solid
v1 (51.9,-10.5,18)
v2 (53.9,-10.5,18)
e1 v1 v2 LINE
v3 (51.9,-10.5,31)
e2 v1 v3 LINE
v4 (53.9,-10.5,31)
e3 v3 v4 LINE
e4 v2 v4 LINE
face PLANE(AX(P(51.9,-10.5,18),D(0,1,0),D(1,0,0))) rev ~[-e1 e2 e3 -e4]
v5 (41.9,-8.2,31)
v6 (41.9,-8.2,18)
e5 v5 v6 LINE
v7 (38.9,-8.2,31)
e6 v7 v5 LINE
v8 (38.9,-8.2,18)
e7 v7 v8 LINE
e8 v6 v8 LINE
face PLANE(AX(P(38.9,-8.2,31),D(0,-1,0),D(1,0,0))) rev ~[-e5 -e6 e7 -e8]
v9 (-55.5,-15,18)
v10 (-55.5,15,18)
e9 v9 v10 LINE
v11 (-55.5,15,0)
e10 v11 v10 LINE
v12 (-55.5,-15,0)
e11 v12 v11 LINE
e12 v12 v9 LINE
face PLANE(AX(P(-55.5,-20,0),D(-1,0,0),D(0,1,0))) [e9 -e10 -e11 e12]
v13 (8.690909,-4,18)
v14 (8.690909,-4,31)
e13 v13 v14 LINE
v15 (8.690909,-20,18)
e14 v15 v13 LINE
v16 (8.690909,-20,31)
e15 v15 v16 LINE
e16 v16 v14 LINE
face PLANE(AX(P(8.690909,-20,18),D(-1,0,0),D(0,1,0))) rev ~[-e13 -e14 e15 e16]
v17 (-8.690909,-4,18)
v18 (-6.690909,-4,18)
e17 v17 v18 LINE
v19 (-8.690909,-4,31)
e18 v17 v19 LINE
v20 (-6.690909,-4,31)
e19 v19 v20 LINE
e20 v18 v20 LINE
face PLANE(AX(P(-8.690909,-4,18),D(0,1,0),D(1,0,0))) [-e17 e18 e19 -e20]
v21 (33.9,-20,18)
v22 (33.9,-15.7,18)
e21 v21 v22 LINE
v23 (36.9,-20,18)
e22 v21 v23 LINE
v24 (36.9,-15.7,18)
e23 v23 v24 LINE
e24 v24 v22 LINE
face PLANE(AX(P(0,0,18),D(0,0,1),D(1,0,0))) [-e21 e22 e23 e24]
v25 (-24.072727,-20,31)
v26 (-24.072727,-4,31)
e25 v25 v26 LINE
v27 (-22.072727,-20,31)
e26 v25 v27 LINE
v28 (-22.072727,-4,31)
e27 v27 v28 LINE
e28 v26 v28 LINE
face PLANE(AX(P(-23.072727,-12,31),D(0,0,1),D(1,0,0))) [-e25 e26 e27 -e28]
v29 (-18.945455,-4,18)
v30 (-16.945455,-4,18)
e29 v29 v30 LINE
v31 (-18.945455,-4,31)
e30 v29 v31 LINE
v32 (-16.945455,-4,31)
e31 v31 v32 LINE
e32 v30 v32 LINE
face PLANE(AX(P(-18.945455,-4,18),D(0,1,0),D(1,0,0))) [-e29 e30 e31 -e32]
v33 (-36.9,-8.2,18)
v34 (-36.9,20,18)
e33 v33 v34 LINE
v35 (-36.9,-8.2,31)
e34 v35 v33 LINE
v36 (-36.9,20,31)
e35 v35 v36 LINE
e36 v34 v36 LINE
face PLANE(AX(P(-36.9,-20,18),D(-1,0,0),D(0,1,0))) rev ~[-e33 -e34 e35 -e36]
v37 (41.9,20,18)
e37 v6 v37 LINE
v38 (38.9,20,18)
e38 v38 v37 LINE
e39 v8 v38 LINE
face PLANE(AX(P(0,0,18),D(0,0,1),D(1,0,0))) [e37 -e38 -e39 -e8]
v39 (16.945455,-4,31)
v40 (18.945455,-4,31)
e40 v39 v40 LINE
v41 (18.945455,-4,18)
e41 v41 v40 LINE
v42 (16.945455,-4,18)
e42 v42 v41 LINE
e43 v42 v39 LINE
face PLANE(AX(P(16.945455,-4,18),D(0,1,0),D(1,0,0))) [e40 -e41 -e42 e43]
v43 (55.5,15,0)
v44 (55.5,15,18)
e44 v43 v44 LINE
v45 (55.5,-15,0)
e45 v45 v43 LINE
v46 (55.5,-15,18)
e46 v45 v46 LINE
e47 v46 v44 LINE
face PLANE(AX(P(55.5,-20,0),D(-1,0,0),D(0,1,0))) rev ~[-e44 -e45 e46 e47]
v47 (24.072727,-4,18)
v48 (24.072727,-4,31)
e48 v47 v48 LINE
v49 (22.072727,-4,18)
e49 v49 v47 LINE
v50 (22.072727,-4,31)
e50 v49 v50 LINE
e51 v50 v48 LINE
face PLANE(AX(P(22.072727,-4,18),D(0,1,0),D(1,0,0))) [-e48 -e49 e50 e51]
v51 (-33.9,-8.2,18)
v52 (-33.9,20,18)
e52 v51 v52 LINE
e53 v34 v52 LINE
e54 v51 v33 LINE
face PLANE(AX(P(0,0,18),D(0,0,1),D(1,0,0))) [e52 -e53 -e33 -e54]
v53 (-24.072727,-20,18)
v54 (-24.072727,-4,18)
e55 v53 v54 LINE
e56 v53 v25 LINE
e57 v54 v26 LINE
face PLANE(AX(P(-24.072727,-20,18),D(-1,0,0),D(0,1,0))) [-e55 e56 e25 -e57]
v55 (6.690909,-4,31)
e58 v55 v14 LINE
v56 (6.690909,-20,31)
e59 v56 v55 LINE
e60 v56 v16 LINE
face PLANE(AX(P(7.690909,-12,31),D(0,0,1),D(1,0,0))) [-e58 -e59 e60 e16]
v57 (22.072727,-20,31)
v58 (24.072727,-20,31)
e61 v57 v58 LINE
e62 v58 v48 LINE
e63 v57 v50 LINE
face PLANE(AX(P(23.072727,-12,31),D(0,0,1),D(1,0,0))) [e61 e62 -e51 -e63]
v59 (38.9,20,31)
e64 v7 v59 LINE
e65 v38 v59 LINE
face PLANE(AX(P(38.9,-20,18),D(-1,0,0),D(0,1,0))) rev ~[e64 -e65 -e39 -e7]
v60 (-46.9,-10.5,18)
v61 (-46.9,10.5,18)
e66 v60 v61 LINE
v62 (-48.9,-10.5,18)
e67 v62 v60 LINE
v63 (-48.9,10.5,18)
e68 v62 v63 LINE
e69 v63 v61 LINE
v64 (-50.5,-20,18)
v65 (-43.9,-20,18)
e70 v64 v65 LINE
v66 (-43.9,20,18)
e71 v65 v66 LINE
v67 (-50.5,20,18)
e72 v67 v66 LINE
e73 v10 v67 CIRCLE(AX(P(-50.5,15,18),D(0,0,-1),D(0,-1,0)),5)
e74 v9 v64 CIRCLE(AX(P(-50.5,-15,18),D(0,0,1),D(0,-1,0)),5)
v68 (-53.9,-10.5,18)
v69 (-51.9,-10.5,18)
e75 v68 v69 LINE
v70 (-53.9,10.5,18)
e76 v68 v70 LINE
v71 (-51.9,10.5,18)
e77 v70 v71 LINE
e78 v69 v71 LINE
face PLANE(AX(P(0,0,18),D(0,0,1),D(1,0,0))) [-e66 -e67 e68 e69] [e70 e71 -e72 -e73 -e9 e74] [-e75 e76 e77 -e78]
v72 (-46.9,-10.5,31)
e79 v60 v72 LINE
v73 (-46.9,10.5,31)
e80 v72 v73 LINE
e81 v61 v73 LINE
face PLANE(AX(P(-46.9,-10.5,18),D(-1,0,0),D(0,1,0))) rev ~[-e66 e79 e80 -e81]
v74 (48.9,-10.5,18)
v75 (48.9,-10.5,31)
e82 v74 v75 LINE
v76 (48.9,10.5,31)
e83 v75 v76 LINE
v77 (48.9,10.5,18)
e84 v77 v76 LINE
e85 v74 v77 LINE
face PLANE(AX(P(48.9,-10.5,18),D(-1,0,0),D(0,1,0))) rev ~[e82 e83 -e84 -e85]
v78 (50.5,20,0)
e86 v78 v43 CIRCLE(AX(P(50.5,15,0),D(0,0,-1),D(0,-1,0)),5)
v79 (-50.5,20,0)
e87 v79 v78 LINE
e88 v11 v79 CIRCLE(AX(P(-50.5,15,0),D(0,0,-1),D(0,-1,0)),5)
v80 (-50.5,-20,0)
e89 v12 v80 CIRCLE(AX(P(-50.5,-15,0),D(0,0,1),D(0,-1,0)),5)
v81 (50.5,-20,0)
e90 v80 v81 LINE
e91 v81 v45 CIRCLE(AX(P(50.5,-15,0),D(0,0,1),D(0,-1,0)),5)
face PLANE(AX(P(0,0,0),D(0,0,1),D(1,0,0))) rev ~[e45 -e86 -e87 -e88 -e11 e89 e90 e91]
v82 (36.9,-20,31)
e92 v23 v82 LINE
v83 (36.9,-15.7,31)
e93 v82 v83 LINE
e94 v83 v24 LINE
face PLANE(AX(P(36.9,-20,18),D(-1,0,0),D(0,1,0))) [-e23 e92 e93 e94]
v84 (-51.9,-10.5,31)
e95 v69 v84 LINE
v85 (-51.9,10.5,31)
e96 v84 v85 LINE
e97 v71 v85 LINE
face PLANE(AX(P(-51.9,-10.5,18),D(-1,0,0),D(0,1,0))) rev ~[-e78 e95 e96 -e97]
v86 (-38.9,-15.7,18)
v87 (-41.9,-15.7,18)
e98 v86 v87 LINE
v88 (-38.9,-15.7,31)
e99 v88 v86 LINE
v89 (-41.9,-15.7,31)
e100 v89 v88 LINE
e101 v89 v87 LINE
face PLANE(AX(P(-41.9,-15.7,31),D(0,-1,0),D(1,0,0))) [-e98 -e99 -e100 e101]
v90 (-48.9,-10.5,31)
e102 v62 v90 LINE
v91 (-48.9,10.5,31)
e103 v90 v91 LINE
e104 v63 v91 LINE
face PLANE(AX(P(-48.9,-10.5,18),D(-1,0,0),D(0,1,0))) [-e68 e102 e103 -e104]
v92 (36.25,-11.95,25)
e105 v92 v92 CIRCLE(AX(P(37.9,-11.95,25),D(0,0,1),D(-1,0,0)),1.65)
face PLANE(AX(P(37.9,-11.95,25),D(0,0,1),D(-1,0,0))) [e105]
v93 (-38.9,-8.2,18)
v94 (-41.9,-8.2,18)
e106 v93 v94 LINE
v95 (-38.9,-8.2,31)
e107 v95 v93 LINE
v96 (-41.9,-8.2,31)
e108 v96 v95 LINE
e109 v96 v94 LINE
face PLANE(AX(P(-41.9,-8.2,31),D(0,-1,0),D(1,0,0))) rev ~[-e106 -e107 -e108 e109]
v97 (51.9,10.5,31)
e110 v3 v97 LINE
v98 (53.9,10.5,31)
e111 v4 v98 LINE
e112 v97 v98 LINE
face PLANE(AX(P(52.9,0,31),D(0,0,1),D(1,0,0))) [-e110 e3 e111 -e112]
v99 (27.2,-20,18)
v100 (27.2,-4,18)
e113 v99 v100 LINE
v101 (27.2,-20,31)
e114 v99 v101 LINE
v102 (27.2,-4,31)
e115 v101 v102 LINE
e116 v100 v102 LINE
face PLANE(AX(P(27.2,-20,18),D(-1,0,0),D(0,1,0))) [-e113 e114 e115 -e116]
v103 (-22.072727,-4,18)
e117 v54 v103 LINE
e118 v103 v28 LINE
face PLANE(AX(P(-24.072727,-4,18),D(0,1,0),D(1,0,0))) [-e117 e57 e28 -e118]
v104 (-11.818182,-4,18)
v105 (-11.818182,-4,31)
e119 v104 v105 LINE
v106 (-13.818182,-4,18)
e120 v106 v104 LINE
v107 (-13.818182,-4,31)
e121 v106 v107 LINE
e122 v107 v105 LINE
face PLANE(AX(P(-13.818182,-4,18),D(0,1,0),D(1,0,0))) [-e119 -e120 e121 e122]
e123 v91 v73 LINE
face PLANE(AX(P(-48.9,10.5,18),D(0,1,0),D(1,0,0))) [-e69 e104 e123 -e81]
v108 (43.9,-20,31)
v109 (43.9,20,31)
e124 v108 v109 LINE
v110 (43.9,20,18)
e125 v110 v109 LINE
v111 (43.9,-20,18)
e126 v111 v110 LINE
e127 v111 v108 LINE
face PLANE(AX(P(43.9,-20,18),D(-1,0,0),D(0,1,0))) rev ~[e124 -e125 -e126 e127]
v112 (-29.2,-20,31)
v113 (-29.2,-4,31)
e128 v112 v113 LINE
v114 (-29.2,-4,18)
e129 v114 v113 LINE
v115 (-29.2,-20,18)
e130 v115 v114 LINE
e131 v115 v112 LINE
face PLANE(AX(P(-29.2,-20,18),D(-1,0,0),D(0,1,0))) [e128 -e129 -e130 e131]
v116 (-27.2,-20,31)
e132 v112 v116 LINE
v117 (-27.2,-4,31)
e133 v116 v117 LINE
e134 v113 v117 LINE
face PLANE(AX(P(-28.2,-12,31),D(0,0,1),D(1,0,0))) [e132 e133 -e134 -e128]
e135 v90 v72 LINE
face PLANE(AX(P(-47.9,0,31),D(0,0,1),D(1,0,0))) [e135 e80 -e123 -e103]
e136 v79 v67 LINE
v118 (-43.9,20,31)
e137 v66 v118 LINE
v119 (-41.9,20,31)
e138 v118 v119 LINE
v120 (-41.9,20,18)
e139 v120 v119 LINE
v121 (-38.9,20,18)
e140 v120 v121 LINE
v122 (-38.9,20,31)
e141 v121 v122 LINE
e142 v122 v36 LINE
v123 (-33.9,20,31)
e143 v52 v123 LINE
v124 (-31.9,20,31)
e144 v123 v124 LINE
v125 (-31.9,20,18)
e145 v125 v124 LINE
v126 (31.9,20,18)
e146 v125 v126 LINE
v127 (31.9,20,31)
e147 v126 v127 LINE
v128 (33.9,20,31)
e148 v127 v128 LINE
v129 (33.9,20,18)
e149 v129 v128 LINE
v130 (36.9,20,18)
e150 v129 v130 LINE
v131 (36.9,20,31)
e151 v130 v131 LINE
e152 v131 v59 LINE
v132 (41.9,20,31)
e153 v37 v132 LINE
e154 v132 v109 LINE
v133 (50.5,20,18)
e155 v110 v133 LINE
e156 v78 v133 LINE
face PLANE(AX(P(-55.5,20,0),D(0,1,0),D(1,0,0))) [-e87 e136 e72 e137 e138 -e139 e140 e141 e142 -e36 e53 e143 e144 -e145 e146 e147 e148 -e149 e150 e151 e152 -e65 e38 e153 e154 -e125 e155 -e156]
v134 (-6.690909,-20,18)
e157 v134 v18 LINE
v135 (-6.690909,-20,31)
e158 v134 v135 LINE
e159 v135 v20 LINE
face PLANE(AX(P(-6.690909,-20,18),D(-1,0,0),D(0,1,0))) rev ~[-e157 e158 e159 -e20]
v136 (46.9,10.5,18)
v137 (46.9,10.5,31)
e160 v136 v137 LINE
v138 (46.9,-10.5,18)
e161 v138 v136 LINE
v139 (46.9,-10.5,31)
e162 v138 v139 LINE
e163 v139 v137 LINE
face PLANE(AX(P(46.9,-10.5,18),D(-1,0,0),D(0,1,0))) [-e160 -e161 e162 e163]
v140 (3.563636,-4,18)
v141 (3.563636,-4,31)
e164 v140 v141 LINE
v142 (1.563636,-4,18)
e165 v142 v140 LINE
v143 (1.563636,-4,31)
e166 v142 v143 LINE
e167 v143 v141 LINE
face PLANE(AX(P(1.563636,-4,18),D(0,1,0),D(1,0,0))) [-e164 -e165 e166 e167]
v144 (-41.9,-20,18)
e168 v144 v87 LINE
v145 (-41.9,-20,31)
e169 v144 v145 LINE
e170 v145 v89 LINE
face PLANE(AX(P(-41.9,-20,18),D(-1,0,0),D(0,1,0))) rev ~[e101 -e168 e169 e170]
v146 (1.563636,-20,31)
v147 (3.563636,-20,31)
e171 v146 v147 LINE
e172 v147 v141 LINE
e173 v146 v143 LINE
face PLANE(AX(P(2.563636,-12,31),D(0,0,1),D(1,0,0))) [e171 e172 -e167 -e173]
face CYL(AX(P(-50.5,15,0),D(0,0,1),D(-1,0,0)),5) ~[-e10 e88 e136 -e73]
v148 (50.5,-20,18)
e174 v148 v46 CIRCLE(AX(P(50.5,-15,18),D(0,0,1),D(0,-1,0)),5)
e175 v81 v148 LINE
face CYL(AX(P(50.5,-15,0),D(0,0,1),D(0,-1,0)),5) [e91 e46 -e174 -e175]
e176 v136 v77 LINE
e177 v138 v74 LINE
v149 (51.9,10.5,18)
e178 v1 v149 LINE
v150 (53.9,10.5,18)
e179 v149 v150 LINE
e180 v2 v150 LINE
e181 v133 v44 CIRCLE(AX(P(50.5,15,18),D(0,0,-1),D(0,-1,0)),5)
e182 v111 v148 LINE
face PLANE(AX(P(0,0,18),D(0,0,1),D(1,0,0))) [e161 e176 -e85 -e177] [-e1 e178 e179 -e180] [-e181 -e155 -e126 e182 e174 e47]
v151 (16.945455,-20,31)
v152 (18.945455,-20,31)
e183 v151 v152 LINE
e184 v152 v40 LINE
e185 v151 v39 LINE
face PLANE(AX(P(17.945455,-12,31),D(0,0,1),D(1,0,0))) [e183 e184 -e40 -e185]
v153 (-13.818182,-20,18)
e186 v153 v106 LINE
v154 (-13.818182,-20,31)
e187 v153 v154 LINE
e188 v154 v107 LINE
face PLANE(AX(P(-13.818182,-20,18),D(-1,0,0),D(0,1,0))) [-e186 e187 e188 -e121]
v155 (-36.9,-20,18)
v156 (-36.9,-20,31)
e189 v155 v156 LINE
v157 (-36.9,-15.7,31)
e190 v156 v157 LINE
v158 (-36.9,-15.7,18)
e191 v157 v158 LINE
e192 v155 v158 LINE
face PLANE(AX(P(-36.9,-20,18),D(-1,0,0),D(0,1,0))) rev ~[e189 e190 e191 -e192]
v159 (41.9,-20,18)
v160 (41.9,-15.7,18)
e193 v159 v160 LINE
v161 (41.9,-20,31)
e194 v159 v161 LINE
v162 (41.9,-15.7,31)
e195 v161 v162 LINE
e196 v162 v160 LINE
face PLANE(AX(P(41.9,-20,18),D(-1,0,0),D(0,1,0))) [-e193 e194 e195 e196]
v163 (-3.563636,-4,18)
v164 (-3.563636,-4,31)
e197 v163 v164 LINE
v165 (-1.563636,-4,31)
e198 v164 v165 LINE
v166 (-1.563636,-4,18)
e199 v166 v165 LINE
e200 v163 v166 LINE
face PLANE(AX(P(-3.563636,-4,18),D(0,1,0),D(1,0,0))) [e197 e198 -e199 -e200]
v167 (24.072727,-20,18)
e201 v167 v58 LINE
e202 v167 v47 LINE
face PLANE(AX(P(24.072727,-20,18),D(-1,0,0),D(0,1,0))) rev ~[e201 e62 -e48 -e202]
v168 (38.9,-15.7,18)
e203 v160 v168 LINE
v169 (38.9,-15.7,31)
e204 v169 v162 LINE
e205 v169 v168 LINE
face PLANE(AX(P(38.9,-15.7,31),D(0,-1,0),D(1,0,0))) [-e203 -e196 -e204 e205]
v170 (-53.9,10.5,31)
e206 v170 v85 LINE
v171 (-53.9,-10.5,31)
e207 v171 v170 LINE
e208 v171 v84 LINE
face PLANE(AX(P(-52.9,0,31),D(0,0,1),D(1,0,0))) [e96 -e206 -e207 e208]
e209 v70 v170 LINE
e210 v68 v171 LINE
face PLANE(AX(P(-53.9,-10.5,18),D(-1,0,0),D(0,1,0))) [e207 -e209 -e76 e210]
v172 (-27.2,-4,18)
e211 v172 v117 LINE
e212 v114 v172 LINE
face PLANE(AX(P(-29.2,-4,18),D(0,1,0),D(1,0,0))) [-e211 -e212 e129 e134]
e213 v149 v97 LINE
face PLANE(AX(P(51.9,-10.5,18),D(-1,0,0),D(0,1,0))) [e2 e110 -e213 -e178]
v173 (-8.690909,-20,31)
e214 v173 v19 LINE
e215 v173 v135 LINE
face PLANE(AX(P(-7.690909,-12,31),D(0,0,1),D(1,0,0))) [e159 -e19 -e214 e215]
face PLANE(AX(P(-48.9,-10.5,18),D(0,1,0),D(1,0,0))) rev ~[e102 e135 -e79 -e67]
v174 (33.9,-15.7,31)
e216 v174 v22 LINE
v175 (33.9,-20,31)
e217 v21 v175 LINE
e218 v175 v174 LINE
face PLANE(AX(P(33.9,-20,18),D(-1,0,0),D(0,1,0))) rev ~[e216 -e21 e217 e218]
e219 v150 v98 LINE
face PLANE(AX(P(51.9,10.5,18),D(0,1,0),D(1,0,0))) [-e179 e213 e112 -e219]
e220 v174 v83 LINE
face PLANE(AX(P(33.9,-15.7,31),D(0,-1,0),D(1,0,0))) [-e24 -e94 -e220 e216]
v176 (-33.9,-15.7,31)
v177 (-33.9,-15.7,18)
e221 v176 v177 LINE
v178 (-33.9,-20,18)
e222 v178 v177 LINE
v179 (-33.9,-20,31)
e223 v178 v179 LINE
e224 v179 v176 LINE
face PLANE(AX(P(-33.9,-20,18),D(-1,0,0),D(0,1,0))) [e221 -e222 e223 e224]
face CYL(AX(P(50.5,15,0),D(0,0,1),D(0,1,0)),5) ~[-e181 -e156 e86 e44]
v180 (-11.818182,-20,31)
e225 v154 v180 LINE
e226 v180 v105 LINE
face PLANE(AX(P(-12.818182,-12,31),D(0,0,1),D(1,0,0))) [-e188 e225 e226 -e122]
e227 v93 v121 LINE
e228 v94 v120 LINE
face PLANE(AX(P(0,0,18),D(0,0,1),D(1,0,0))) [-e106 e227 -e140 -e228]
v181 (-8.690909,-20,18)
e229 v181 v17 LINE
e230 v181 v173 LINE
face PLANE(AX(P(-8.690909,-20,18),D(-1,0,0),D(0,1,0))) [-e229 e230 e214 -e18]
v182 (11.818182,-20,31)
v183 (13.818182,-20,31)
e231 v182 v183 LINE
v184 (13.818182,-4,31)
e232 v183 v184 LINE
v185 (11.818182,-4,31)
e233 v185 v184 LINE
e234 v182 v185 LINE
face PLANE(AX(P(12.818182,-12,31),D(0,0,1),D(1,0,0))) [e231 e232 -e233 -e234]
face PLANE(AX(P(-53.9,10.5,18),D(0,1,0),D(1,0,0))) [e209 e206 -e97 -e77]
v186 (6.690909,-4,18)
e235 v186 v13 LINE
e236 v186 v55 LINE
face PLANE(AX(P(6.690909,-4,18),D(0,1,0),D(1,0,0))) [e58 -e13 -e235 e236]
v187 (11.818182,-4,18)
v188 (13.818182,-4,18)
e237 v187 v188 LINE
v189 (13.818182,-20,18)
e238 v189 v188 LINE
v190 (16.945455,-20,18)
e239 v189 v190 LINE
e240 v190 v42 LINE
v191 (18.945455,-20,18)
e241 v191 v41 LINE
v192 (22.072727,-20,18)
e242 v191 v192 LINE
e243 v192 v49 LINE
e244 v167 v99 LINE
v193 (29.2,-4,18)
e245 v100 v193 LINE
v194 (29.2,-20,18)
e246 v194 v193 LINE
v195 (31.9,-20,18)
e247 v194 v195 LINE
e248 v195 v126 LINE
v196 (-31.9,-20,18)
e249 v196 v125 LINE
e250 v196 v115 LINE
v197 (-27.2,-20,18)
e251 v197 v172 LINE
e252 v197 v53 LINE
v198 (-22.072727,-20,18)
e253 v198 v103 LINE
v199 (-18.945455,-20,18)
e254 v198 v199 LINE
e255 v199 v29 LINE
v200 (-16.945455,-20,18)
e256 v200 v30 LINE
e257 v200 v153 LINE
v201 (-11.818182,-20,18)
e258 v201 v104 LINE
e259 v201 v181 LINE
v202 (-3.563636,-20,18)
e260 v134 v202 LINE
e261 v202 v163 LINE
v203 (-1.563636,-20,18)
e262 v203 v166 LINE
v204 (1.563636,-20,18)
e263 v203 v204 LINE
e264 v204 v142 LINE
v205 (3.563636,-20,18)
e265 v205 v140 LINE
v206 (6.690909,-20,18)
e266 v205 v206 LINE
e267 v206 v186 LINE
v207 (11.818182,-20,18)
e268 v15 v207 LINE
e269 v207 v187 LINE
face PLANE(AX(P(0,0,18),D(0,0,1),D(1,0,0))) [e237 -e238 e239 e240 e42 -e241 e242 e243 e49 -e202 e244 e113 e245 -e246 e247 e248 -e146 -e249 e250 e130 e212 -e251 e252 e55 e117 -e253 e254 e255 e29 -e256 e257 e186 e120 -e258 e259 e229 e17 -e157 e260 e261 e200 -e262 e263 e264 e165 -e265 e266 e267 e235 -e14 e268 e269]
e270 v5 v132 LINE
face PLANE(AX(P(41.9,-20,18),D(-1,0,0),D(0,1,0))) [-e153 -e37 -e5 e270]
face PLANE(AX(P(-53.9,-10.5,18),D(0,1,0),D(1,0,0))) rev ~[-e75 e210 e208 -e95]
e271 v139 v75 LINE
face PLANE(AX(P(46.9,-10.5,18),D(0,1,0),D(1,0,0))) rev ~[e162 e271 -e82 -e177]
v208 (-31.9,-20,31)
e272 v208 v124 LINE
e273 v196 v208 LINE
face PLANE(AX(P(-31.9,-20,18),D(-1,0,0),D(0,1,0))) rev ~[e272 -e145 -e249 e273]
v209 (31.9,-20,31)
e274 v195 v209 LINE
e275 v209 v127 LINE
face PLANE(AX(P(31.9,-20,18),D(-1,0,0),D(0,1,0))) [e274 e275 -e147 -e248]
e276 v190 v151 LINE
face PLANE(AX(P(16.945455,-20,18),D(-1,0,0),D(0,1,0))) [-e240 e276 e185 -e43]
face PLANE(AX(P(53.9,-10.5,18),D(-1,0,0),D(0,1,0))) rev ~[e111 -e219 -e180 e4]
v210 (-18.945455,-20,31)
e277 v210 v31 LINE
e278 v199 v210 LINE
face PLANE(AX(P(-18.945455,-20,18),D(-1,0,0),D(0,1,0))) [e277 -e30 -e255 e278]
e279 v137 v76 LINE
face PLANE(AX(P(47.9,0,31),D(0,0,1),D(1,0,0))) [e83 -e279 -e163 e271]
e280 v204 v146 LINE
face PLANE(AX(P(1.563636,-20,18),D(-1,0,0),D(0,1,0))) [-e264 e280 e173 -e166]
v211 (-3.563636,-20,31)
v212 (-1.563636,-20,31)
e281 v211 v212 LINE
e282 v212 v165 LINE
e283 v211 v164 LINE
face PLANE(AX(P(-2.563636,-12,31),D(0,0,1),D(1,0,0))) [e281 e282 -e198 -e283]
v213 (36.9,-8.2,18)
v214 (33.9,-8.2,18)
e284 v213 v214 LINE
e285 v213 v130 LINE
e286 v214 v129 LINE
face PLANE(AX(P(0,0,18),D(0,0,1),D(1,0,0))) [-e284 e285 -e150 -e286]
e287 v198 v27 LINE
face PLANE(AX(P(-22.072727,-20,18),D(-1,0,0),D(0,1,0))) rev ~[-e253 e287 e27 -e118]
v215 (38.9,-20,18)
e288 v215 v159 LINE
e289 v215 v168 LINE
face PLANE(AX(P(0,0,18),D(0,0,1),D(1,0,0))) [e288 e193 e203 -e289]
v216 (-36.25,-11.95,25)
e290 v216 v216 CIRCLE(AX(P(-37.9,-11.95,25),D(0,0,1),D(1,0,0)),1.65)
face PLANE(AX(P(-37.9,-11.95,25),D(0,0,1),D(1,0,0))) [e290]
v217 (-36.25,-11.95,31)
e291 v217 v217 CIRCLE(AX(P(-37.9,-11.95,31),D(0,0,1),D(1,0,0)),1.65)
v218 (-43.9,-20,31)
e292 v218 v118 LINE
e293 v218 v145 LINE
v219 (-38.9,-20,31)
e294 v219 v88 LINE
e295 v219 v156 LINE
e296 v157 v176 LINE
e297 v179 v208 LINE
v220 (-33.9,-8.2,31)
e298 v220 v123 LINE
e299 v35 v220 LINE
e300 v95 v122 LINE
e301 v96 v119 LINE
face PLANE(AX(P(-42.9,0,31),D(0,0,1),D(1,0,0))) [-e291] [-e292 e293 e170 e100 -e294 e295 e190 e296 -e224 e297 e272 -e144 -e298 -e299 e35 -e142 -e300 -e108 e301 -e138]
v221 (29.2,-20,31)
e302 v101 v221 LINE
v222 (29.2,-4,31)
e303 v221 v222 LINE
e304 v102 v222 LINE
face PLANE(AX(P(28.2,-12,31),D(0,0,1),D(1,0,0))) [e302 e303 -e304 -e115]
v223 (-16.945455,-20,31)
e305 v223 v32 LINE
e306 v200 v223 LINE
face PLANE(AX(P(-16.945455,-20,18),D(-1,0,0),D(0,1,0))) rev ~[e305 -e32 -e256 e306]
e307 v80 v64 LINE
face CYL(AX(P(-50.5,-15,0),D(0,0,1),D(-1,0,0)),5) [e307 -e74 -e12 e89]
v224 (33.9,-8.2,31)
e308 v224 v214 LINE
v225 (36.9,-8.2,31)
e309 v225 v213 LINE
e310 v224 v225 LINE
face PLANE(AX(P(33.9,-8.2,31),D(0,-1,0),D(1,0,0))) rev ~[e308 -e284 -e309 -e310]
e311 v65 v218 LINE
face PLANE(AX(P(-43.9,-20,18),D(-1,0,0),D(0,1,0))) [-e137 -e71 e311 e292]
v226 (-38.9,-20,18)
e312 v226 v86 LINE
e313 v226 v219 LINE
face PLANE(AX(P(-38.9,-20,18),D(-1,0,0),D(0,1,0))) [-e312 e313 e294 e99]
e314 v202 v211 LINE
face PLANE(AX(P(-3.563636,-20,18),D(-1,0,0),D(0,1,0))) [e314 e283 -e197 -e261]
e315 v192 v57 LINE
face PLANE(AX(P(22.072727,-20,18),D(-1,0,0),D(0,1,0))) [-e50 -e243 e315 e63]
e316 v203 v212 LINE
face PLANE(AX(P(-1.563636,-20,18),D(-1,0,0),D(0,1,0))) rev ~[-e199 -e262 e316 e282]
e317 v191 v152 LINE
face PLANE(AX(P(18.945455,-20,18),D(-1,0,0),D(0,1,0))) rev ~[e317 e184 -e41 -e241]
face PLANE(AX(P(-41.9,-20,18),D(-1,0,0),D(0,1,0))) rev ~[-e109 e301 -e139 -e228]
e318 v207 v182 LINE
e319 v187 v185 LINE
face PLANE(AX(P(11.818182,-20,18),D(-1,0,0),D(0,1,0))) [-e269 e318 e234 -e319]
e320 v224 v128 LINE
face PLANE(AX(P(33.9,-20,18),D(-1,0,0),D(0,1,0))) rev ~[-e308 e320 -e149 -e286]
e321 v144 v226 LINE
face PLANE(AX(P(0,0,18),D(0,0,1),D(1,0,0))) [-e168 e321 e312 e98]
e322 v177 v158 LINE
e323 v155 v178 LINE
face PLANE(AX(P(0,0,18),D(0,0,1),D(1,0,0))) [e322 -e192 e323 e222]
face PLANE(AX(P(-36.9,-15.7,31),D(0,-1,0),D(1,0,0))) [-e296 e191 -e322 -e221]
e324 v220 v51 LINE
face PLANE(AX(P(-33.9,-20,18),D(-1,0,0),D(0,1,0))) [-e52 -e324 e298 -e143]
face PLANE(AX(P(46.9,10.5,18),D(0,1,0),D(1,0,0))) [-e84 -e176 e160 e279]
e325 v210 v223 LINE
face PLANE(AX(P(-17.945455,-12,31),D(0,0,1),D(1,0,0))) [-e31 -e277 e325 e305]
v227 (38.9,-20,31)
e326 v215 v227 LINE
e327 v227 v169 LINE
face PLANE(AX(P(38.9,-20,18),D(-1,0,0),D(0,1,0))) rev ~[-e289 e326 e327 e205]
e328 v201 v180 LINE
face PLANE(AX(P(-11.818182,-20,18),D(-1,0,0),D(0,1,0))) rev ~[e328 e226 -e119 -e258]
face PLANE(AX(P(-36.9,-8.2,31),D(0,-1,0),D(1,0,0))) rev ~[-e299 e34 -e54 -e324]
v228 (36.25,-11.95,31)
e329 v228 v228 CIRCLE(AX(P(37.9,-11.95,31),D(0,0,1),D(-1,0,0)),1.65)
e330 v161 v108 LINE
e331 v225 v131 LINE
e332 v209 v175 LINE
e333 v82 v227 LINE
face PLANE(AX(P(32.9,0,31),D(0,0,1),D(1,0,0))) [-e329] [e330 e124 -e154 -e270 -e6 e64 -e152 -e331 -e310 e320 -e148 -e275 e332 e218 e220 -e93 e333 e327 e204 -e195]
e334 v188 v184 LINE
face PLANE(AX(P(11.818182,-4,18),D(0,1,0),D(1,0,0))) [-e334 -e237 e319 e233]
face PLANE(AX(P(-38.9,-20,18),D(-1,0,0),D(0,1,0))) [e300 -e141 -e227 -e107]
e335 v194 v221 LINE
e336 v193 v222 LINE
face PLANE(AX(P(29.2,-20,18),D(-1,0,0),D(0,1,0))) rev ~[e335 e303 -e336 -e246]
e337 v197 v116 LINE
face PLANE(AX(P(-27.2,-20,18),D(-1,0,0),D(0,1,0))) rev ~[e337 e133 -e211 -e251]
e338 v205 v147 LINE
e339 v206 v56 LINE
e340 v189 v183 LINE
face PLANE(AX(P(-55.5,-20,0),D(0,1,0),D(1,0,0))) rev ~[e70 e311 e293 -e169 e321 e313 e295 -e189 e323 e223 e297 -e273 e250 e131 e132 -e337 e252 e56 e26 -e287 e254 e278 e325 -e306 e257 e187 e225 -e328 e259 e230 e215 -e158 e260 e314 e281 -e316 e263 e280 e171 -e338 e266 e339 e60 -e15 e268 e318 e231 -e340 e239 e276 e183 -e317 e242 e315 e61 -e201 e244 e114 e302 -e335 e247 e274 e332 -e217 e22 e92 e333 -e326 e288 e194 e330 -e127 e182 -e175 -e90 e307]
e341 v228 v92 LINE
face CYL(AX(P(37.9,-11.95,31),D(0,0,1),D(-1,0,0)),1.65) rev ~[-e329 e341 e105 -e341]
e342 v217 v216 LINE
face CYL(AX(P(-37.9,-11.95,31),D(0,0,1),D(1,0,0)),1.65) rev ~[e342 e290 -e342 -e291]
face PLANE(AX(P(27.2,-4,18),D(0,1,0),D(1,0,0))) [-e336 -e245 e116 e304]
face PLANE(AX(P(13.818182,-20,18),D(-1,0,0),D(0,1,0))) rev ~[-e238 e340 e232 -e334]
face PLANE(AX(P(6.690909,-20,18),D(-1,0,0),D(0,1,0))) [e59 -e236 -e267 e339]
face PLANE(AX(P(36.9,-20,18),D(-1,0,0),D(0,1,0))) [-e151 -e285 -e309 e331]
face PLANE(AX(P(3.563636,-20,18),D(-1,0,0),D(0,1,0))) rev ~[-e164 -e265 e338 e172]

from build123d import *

# Parameters (mm, degrees)
ESBO_O1_W                = 111
ESBO_O1_H                = 40
RESSALTO_EXTRUS_O1_DEPTH = 18
ESBO_O2_W                = 2
ESBO_O2_H                = 16
ESBO_O2_H_2              = 21
ESBO_O2_H_3              = 40
RESSALTO_EXTRUS_O2_DEPTH = 13
RESSALTO_EXTRUS_O3_REACH = 68.643
ESBO_O3_W                = 3
ESBO_O3_H                = 7.5
ESBO_O4_R                = 1.65
CORTE_EXTRUS_O1_DEPTH    = 6
FILETE1_R                = 5


with BuildPart() as part:
    # Esboço1 → Ressalto-extrusão1 (new body)
    with BuildSketch(Plane.XY):
        Rectangle(ESBO_O1_W, ESBO_O1_H)
    extrude(amount=RESSALTO_EXTRUS_O1_DEPTH)

    # Esboço2 → Ressalto-extrusão2 (add)
    with BuildSketch(Plane.XY.offset(18)):
        with Locations((-28.2, -12)):
            Rectangle(ESBO_O2_W, ESBO_O2_H)
        with Locations((-23.072727273, -12)):
            Rectangle(ESBO_O2_W, ESBO_O2_H)
        with Locations((-17.945454545, -12)):
            Rectangle(ESBO_O2_W, ESBO_O2_H)
        with Locations((-12.818181818, -12)):
            Rectangle(ESBO_O2_W, ESBO_O2_H)
        with Locations((-7.690909091, -12)):
            Rectangle(ESBO_O2_W, ESBO_O2_H)
        with Locations((-2.563636364, -12)):
            Rectangle(ESBO_O2_W, ESBO_O2_H)
        with Locations((2.563636364, -12)):
            Rectangle(ESBO_O2_W, ESBO_O2_H)
        with Locations((7.690909091, -12)):
            Rectangle(ESBO_O2_W, ESBO_O2_H)
        with Locations((12.818181818, -12)):
            Rectangle(ESBO_O2_W, ESBO_O2_H)
        with Locations((17.945454545, -12)):
            Rectangle(ESBO_O2_W, ESBO_O2_H)
        with Locations((23.072727273, -12)):
            Rectangle(ESBO_O2_W, ESBO_O2_H)
        with Locations((28.2, -12)):
            Rectangle(ESBO_O2_W, ESBO_O2_H)
        with Locations((-47.9, 0)):
            Rectangle(ESBO_O2_W, ESBO_O2_H_2)
        with Locations((-52.9, 0)):
            Rectangle(ESBO_O2_W, ESBO_O2_H_2)
        with Locations((-42.9, 0)):
            Rectangle(ESBO_O2_W, ESBO_O2_H_3)
        with Locations((-37.9, 0)):
            Rectangle(ESBO_O2_W, ESBO_O2_H_3)
        with Locations((-32.9, 0)):
            Rectangle(ESBO_O2_W, ESBO_O2_H_3)
        with Locations((32.9, 0)):
            Rectangle(ESBO_O2_W, ESBO_O2_H_3)
        with Locations((37.9, 0)):
            Rectangle(ESBO_O2_W, ESBO_O2_H_3)
        with Locations((42.9, 0)):
            Rectangle(ESBO_O2_W, ESBO_O2_H_3)
        with Locations((47.9, 0)):
            Rectangle(ESBO_O2_W, ESBO_O2_H_2)
        with Locations((52.9, 0)):
            Rectangle(ESBO_O2_W, ESBO_O2_H_2)
    extrude(amount=RESSALTO_EXTRUS_O2_DEPTH)

    # Esboço3 → Ressalto-extrusão3 (add, up to next)
    with BuildSketch(Plane.XY.offset(31), mode=Mode.PRIVATE) as ressalto_extrus_o3_sk1:
        with Locations((-40.4, -11.95)):
            Rectangle(ESBO_O3_W, ESBO_O3_H)
    ressalto_extrus_o3_tool1 = extrude(ressalto_extrus_o3_sk1.sketch, amount=-RESSALTO_EXTRUS_O3_REACH, mode=Mode.PRIVATE) - part.part
    # Esboço3 → Ressalto-extrusão3 (add, up to next)
    with BuildSketch(Plane.XY.offset(31), mode=Mode.PRIVATE) as ressalto_extrus_o3_sk2:
        with Locations((-35.4, -11.95)):
            Rectangle(ESBO_O3_W, ESBO_O3_H)
    ressalto_extrus_o3_tool2 = extrude(ressalto_extrus_o3_sk2.sketch, amount=-RESSALTO_EXTRUS_O3_REACH, mode=Mode.PRIVATE) - part.part
    # Esboço3 → Ressalto-extrusão3 (add, up to next)
    with BuildSketch(Plane.XY.offset(31), mode=Mode.PRIVATE) as ressalto_extrus_o3_sk3:
        with Locations((35.4, -11.95)):
            Rectangle(ESBO_O3_W, ESBO_O3_H)
    ressalto_extrus_o3_tool3 = extrude(ressalto_extrus_o3_sk3.sketch, amount=-RESSALTO_EXTRUS_O3_REACH, mode=Mode.PRIVATE) - part.part
    # Esboço3 → Ressalto-extrusão3 (add, up to next)
    with BuildSketch(Plane.XY.offset(31), mode=Mode.PRIVATE) as ressalto_extrus_o3_sk4:
        with Locations((40.4, -11.95)):
            Rectangle(ESBO_O3_W, ESBO_O3_H)
    ressalto_extrus_o3_tool4 = extrude(ressalto_extrus_o3_sk4.sketch, amount=-RESSALTO_EXTRUS_O3_REACH, mode=Mode.PRIVATE) - part.part
    add(ressalto_extrus_o3_tool1.solids().sort_by_distance((-40.4, -11.95, 31))[0])
    add(ressalto_extrus_o3_tool2.solids().sort_by_distance((-35.4, -11.95, 31))[0])
    add(ressalto_extrus_o3_tool3.solids().sort_by_distance((35.4, -11.95, 31))[0])
    add(ressalto_extrus_o3_tool4.solids().sort_by_distance((40.4, -11.95, 31))[0])

    # Esboço4 → Corte-extrusão1 (cut)
    with BuildSketch(Plane.XY.offset(31)):
        with Locations((-37.9, -11.95)):
            Circle(ESBO_O4_R)
        with Locations(Location((37.9, -11.95, 0), (0, 0, 180))):
            Circle(ESBO_O4_R)
    extrude(amount=-CORTE_EXTRUS_O1_DEPTH, mode=Mode.SUBTRACT)

    # Filete1
    filete1_edges = [part.edges().sort_by_distance(p)[0] for p in [
        (-55.5, 20, 9),
        (55.5, 20, 9),
        (55.5, -20, 9),
        (-55.5, -20, 9),
    ]]
    fillet(filete1_edges, radius=FILETE1_R)


solid = part.part
